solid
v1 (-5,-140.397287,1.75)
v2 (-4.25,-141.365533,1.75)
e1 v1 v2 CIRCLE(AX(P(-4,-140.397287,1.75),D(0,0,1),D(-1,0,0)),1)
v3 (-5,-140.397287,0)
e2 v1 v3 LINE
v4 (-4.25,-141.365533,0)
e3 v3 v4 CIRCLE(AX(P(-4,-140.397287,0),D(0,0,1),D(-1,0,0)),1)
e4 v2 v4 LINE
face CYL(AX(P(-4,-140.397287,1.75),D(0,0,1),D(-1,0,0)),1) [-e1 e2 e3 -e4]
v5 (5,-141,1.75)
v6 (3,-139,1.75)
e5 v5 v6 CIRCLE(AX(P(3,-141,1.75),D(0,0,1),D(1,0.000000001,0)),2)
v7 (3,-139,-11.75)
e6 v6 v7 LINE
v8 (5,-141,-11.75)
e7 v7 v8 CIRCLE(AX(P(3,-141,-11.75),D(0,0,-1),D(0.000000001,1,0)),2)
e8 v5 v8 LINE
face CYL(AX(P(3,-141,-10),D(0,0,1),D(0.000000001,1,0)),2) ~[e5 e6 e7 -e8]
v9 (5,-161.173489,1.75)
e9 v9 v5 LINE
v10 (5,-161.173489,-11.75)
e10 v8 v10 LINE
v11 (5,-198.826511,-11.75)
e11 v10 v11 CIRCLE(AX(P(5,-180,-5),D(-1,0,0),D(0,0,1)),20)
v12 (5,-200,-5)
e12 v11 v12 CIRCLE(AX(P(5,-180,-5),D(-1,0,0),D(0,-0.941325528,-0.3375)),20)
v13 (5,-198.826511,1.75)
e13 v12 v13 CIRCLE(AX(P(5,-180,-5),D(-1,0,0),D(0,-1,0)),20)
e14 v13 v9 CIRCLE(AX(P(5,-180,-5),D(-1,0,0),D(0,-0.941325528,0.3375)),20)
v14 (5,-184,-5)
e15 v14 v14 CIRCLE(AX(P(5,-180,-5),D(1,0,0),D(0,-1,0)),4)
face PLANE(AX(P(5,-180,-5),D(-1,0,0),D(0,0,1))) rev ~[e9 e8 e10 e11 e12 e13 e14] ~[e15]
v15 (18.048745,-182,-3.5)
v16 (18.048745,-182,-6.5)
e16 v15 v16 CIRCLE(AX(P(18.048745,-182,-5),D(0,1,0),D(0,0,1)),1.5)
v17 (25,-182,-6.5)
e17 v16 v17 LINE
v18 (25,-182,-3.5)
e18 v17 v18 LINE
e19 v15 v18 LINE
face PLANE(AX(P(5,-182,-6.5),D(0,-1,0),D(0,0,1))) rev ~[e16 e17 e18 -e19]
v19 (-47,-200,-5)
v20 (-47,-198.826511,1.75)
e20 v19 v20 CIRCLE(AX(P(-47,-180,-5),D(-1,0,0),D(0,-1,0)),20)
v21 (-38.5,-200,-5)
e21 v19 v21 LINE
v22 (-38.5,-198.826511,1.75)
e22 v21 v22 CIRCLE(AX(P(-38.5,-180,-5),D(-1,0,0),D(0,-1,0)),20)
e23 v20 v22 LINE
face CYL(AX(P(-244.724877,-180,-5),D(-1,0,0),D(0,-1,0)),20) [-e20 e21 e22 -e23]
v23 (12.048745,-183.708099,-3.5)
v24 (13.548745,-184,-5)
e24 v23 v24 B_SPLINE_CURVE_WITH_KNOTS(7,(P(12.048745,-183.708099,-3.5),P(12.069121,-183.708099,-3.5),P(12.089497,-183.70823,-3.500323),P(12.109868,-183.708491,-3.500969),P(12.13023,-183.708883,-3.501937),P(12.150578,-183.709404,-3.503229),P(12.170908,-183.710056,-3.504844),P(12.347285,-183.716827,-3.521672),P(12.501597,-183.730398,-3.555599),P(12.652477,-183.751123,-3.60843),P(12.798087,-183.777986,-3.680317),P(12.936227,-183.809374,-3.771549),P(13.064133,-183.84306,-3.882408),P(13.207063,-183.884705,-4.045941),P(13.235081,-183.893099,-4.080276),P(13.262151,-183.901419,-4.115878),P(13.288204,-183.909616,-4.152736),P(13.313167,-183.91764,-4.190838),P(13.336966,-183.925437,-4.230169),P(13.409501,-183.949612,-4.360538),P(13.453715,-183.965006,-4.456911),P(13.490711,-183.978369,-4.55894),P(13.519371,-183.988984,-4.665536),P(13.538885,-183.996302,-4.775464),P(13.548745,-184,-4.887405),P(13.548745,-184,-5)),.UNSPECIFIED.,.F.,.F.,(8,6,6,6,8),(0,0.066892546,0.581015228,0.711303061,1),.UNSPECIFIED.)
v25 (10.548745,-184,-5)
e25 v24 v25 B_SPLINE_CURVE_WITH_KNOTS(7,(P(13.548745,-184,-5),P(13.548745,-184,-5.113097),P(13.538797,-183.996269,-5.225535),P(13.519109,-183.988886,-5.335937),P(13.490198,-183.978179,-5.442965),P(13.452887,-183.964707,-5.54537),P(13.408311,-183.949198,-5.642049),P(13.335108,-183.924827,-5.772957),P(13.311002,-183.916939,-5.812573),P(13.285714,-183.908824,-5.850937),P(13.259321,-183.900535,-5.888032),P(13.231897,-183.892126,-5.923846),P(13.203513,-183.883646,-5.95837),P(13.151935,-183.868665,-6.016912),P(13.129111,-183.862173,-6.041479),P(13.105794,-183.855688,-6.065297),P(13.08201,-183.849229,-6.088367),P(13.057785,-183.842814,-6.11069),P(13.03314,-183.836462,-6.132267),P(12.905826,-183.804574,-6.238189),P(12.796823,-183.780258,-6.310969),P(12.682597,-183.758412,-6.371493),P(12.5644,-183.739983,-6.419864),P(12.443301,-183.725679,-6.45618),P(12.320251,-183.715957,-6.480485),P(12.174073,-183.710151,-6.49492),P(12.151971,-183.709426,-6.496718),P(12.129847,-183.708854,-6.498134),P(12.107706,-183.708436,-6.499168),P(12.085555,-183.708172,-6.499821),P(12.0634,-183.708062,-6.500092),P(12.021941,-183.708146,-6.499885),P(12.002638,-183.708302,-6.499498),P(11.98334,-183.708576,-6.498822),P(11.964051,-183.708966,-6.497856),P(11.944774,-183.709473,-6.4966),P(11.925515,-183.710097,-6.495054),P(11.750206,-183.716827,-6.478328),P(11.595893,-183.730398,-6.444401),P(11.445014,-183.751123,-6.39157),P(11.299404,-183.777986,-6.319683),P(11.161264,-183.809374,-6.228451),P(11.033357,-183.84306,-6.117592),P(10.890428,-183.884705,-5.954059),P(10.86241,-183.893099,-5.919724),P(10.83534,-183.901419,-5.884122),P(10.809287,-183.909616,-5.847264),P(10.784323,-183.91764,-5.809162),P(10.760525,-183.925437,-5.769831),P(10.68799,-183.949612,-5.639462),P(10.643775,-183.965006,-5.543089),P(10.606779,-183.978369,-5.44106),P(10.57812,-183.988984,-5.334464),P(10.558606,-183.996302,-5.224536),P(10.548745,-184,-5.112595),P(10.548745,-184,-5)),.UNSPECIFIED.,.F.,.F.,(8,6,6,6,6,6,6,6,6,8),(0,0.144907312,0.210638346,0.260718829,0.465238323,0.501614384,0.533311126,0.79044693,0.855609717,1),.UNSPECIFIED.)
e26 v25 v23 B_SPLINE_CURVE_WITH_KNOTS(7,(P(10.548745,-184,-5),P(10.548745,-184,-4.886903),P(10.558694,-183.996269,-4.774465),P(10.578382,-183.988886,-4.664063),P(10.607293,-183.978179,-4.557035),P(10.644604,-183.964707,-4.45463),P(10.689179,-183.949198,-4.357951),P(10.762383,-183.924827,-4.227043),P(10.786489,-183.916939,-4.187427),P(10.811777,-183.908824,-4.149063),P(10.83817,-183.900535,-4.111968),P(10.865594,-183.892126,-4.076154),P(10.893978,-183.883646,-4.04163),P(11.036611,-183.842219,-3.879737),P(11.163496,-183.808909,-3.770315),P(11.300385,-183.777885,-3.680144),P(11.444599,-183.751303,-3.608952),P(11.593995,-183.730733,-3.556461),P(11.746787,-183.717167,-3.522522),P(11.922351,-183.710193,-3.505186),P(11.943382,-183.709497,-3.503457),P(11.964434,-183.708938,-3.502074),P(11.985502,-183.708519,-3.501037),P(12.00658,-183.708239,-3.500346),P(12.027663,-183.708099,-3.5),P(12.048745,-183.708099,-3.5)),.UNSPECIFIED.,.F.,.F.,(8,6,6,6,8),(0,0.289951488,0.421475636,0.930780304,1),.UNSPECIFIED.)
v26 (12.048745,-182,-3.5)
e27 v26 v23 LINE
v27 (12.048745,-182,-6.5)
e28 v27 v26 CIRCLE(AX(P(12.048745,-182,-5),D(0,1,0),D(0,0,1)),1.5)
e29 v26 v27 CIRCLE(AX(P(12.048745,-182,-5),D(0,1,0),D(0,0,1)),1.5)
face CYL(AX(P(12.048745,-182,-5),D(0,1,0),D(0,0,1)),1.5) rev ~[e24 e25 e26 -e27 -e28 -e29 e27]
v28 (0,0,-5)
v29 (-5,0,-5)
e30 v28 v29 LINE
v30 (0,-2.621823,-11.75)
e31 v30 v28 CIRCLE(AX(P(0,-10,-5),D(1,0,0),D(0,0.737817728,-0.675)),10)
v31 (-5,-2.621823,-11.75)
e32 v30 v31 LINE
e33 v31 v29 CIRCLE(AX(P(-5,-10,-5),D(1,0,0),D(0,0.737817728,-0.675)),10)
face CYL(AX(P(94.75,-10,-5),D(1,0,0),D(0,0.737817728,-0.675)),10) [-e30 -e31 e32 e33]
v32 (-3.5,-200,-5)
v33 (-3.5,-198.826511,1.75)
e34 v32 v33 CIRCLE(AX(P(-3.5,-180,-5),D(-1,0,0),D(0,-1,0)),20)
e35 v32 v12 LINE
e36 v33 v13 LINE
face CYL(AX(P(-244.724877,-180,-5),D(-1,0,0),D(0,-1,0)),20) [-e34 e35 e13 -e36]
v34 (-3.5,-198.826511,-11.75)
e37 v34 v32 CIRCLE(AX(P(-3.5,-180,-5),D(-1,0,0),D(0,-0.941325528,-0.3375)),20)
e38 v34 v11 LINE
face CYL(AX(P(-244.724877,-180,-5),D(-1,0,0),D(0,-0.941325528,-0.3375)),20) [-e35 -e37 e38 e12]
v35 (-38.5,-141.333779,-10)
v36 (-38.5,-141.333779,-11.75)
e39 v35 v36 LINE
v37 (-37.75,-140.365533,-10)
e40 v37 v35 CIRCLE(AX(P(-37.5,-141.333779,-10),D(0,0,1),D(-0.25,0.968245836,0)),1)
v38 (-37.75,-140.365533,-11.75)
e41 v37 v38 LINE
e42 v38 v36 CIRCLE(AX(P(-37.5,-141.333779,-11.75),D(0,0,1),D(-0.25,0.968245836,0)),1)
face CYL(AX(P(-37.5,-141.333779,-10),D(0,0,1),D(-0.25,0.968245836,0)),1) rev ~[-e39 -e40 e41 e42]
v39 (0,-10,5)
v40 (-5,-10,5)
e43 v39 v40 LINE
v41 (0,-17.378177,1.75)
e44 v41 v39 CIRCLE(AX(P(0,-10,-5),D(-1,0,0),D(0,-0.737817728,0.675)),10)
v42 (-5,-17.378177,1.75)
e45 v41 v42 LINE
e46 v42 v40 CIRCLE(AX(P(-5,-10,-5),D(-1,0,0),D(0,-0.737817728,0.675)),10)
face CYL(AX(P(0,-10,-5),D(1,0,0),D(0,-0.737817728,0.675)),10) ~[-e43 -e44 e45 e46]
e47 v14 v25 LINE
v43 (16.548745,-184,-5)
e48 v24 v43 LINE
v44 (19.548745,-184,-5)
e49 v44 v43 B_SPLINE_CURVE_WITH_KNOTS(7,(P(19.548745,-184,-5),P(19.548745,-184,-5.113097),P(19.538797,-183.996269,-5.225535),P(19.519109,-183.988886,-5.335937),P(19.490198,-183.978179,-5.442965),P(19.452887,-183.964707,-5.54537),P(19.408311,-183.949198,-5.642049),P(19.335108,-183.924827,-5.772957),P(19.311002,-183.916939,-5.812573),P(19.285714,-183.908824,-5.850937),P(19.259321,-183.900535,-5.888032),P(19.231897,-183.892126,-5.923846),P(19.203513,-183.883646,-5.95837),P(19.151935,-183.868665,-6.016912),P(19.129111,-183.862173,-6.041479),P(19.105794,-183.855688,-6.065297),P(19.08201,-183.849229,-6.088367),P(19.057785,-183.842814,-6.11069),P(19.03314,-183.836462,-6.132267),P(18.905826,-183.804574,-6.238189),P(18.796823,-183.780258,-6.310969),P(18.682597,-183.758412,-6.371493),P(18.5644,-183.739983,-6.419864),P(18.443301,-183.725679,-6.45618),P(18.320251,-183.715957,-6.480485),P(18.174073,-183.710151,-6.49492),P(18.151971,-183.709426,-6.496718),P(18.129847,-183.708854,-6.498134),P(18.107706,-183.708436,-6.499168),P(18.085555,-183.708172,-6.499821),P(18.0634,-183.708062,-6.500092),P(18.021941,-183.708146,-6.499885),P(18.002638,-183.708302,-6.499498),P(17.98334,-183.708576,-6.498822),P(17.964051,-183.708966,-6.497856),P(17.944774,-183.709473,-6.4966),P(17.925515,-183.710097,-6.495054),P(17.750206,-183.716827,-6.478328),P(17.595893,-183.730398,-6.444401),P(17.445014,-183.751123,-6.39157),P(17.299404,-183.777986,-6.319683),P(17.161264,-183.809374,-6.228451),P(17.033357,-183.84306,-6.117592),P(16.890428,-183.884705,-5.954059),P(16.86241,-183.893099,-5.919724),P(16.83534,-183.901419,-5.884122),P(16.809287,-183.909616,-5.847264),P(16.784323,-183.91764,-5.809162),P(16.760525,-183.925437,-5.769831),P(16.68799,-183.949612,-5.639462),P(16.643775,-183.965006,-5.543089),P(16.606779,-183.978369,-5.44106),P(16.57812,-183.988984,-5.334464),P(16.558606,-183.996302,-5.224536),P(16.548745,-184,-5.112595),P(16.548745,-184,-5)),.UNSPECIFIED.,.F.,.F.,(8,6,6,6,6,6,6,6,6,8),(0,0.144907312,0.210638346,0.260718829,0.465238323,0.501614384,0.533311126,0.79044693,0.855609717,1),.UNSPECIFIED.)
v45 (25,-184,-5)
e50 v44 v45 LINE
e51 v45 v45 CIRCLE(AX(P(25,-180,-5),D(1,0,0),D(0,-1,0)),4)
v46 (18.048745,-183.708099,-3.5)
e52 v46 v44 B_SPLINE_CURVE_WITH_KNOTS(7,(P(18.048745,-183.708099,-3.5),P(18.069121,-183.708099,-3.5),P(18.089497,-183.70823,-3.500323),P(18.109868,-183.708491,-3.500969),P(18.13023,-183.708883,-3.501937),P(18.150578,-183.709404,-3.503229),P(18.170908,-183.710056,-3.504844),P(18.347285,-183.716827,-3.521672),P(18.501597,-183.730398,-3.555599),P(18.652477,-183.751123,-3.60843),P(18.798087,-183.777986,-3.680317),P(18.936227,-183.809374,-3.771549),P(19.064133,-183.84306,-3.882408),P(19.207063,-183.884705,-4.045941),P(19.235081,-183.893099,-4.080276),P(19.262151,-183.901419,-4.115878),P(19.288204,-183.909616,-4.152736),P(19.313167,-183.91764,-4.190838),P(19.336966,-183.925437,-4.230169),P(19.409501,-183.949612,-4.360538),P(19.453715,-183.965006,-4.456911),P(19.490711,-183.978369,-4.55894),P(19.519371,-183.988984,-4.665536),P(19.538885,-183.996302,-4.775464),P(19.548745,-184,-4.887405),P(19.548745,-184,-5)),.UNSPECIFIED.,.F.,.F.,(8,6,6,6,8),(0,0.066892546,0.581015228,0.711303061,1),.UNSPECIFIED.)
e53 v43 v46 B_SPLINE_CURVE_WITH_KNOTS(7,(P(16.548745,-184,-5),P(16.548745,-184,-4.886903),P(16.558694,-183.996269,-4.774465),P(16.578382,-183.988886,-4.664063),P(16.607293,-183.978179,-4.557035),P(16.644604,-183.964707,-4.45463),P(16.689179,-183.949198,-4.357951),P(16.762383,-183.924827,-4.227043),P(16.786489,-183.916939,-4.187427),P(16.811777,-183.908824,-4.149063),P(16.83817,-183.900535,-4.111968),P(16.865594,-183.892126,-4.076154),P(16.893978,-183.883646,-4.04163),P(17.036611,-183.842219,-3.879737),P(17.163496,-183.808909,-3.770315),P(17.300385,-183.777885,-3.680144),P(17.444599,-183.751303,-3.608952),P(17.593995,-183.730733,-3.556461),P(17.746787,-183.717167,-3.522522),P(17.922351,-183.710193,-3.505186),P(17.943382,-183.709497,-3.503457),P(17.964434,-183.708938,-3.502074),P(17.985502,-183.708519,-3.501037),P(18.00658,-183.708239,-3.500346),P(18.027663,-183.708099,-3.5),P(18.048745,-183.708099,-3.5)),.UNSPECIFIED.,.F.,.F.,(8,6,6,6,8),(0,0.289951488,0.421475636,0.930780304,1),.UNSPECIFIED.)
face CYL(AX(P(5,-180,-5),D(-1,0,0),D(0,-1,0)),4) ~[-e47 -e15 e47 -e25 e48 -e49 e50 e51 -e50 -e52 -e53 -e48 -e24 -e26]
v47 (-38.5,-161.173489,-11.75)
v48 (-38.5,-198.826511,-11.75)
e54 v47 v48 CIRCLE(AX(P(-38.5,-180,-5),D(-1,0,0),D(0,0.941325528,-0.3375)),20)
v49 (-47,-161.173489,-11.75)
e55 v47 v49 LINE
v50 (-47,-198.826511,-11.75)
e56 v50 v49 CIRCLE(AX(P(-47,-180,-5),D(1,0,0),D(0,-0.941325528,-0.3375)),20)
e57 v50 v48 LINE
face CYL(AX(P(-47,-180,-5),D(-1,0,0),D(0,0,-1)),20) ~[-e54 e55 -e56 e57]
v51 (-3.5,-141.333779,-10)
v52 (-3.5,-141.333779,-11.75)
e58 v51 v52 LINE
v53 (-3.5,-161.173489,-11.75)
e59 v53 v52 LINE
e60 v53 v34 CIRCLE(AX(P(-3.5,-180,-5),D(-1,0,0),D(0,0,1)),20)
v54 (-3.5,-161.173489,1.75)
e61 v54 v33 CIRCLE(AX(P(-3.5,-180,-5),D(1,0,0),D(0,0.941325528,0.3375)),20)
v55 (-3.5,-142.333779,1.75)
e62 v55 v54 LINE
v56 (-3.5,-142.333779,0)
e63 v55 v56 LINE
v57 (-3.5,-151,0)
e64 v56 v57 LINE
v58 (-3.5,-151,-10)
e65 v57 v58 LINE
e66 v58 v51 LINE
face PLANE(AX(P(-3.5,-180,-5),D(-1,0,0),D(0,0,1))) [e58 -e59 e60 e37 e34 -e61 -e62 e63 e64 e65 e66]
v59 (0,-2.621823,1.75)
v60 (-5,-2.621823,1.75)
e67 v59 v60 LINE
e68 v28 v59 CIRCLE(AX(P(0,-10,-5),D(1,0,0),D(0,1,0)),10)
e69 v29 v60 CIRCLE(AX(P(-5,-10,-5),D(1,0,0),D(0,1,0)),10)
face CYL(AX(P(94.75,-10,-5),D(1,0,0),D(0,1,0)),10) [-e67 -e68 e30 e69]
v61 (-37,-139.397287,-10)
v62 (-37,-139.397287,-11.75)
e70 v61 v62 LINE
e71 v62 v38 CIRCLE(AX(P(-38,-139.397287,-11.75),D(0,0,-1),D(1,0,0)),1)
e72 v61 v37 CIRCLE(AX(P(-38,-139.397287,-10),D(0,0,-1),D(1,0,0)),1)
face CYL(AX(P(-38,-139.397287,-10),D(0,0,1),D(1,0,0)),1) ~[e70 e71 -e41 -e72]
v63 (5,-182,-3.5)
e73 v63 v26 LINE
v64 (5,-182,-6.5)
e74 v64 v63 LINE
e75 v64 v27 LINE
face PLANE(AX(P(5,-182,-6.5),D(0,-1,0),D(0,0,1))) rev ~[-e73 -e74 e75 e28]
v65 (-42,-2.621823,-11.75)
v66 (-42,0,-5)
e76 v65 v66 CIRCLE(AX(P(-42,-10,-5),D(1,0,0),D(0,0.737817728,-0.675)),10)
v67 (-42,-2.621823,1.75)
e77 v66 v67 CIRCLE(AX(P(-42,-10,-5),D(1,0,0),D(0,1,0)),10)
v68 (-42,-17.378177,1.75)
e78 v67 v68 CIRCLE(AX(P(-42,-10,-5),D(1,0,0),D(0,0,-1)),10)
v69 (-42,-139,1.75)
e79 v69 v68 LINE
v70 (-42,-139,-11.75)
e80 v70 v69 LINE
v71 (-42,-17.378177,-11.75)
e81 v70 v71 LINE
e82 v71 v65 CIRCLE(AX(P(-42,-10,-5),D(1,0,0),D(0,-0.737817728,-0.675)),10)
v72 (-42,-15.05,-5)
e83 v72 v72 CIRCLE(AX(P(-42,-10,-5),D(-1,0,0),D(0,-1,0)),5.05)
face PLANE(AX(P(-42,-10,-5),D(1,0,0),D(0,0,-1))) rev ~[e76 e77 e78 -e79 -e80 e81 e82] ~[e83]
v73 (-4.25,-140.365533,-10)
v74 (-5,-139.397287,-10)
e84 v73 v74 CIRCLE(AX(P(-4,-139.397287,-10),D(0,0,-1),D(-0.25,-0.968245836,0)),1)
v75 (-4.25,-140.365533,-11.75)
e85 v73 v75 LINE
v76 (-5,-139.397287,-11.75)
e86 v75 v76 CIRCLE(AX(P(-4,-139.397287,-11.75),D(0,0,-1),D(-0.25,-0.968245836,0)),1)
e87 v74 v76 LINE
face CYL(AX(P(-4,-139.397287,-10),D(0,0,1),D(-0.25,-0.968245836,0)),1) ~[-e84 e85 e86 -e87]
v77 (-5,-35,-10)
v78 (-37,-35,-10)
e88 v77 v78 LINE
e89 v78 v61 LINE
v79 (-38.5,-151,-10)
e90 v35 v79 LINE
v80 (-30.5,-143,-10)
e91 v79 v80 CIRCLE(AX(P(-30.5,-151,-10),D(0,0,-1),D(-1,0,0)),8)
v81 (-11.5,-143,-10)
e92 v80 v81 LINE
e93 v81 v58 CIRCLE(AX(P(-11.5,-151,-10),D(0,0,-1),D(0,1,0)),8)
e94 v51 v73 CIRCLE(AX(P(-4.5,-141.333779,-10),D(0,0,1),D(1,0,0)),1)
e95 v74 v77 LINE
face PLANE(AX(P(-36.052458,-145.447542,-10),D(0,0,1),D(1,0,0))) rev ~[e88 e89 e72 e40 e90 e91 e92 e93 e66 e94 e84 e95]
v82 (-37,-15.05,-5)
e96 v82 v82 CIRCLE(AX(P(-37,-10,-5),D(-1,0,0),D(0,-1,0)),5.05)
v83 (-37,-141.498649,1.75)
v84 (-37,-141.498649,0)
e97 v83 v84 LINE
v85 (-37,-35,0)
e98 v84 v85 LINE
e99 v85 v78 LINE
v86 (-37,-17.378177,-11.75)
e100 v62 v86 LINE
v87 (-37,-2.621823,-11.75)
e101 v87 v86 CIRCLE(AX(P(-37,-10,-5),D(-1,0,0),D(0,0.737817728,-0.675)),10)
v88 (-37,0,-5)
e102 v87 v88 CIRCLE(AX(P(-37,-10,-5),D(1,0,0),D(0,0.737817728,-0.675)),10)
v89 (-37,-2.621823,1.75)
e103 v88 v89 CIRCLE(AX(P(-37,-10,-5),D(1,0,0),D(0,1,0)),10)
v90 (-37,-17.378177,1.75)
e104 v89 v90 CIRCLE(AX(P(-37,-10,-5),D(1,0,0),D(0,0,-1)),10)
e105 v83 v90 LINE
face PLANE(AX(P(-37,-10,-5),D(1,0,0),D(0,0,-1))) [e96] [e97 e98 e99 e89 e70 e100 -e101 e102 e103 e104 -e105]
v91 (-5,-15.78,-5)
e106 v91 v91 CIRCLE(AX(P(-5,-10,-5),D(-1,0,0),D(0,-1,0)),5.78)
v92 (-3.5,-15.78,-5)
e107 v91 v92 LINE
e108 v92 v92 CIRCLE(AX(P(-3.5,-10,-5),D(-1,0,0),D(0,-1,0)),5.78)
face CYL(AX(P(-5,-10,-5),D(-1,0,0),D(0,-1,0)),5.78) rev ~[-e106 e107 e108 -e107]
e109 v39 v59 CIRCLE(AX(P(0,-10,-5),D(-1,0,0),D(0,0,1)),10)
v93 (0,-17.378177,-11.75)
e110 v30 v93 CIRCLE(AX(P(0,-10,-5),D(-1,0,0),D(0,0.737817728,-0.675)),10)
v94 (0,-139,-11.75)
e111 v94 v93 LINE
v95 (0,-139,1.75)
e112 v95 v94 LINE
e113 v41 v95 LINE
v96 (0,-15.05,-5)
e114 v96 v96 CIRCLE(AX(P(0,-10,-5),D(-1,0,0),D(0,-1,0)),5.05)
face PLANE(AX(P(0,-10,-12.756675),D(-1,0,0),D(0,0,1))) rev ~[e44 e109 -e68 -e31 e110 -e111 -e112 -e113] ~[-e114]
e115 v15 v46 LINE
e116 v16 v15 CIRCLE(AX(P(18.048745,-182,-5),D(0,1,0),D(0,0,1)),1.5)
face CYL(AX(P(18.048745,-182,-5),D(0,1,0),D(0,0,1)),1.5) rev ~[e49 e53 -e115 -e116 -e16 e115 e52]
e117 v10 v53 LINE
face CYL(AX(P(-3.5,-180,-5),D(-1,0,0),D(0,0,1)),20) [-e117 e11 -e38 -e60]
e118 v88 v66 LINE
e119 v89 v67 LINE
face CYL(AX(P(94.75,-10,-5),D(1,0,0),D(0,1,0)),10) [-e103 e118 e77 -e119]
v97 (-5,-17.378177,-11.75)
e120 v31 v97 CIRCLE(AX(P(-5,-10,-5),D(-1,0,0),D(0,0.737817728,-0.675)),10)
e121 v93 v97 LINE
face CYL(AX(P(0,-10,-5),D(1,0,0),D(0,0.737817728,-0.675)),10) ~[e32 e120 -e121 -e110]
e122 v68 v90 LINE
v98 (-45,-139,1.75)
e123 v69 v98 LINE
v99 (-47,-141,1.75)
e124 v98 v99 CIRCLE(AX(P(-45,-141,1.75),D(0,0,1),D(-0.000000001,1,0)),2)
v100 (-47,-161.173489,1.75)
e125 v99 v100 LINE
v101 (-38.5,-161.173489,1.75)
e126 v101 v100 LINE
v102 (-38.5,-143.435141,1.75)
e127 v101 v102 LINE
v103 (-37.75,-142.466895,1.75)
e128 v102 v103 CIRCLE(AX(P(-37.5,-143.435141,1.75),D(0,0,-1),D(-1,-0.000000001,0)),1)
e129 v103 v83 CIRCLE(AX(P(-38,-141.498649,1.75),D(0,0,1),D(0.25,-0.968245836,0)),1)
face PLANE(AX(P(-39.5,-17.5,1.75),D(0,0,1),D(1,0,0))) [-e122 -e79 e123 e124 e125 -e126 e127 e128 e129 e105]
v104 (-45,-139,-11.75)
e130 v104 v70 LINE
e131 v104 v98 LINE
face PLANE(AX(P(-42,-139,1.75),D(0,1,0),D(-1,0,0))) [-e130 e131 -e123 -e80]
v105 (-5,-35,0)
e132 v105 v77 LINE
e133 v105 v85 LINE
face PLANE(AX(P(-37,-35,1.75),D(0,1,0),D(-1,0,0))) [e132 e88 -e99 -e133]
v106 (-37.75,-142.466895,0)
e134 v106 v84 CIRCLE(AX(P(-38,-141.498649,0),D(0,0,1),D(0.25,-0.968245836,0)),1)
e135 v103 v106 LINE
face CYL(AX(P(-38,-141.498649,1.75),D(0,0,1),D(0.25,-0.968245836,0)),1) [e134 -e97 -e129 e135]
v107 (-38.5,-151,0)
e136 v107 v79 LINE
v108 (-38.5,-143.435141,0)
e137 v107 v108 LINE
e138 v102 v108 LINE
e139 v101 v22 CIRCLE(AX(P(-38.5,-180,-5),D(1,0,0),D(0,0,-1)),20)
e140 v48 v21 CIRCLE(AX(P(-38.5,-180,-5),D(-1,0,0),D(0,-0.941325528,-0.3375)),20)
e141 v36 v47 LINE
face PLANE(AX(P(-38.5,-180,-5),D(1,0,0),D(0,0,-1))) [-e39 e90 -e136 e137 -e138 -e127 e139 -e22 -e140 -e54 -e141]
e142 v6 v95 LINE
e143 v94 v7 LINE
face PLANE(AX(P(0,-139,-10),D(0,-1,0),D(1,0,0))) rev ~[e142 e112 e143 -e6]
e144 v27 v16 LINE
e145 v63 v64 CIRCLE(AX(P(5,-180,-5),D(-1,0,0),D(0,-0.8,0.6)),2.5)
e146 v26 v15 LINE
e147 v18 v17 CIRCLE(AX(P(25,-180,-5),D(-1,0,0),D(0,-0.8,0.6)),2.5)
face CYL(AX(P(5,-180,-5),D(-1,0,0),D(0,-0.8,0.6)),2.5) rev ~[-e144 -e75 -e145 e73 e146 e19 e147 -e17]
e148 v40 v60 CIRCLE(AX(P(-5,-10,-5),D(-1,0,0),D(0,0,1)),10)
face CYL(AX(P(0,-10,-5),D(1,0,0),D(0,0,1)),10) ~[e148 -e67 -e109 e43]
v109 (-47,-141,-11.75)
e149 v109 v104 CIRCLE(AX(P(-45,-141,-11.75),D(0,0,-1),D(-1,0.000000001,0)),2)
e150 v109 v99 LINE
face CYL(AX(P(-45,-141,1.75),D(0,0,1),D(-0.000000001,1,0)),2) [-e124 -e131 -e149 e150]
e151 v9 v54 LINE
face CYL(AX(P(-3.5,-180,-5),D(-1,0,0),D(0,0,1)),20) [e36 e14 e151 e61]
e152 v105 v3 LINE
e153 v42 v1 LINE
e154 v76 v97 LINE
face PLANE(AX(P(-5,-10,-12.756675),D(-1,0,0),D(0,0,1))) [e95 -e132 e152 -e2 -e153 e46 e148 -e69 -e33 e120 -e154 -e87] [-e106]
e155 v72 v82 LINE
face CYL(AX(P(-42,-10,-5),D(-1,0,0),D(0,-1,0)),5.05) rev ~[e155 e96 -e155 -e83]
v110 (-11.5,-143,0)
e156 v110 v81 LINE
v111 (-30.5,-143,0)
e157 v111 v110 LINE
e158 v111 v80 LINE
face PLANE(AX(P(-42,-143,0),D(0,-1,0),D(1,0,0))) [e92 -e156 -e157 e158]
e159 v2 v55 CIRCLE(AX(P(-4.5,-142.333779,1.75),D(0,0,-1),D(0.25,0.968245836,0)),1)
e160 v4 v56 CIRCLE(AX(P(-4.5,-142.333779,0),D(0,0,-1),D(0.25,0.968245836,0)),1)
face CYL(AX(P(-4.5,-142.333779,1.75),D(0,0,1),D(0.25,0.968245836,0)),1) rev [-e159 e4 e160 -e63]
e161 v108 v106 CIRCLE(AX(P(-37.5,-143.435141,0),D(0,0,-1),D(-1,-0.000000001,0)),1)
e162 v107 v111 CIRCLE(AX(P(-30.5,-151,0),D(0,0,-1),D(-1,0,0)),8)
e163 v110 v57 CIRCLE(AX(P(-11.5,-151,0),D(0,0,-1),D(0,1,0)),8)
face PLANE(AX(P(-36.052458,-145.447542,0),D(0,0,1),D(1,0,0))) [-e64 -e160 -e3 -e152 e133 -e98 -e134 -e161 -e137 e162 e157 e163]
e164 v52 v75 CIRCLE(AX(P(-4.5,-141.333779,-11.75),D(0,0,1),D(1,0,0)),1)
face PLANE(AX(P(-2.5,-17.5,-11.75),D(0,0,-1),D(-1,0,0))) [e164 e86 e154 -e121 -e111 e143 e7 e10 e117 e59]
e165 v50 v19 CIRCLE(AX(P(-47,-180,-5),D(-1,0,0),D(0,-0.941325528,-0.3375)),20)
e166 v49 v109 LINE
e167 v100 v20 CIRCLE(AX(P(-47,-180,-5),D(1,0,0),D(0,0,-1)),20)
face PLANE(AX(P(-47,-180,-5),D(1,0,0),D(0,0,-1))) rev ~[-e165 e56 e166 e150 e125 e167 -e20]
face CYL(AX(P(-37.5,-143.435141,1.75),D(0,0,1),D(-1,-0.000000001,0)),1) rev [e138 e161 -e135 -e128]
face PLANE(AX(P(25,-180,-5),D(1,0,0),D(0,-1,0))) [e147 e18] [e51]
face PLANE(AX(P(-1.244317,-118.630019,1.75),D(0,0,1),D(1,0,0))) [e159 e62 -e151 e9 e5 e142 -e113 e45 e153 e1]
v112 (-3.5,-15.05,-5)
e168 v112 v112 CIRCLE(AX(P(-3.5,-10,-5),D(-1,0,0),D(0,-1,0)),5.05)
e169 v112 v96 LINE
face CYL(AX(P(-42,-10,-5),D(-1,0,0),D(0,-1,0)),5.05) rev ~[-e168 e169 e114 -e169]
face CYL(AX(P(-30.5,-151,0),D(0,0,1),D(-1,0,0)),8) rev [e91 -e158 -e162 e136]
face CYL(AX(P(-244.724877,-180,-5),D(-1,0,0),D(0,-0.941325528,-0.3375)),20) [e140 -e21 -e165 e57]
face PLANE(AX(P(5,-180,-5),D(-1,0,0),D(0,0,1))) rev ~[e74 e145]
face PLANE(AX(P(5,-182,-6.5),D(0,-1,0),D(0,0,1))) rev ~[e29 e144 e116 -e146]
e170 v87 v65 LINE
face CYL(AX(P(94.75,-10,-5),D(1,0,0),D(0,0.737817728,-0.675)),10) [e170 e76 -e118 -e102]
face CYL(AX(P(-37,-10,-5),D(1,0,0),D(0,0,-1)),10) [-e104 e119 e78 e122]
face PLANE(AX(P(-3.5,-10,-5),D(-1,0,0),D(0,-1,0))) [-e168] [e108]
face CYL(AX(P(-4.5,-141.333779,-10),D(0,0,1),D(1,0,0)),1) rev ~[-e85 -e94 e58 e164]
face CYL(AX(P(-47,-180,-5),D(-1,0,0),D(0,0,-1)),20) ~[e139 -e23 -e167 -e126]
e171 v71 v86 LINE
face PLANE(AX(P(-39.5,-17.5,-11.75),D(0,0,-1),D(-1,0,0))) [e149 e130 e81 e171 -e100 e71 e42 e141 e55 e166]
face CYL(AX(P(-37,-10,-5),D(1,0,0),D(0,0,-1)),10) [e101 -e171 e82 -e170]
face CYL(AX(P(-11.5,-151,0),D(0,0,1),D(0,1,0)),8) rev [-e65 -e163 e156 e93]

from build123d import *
from build123d.topology import SkipClean

# Parameters (mm, degrees)
SALIENTE_EXTRUIR1_DEPTH    = 10
SALIENTE_EXTRUIR2_DEPTH    = 10
SALIENTE_EXTRUIR3_DEPTH    = 10
SALIENTE_EXTRUIR4_DEPTH    = 1.75
SALIENTE_EXTRUIR5_START    = 1.75
SALIENTE_EXTRUIR5_DEPTH    = 1.75
CROQUIS26_W                = 5
CROQUIS26_H                = 35
SALIENTE_EXTRUIR6_DEPTH    = 1.75
CROQUIS27_W                = 5
CROQUIS27_H                = 35
SALIENTE_EXTRUIR7_DEPTH    = 11.75
CORTAR_EXTRUIR3_DEPTH      = 205.699932829
CORTAR_EXTRUIR3_DEPTH_BACK = 99.75
SALIENTE_EXTRUIR8_START    = -5
SALIENTE_EXTRUIR8_DEPTH    = 5
CROQUIS29_R                = 10
SALIENTE_EXTRUIR9_DEPTH    = 5
CORTAR_EXTRUIR5_DEPTH      = 206.22487666
CORTAR_EXTRUIR5_DEPTH_BACK = 206.22487666
SALIENTE_EXTRUIR11_START   = -8.5
CROQUIS32_R                = 20
SALIENTE_EXTRUIR11_DEPTH   = 8.5
CROQUIS33_R                = 20
SALIENTE_EXTRUIR12_DEPTH   = 8.5
CROQUIS34_R                = 5.05
CORTAR_EXTRUIR6_DEPTH      = 90
CROQUIS39_R                = 5.78
CORTAR_EXTRUIR7_DEPTH      = 1.5
CROQUIS40_R                = 4
SALIENTE_EXTRUIR13_DEPTH   = 20
CROQUIS41_R                = 1.5
CORTAR_EXTRUIR8_DEPTH      = 20


with BuildPart() as part:
    # Croquis1 → Saliente-Extruir1 (new body)
    with BuildSketch(Plane.XY):
        Polygon((0, -143), (0, -35), (-1.6, -35), (-37.4, -35), (-42, -35), (-42, -143), align=None)
    extrude(amount=-SALIENTE_EXTRUIR1_DEPTH)

    # Croquis3 → Saliente-Extruir2 (add)
    with BuildSketch(Plane.XY):
        with BuildLine():
            Line((-47, -141), (-47, -145))
            Line((-47, -145), (-47, -160))
            Line((-47, -160), (-47, -180))
            Line((-47, -180), (-47, -200))
            Line((-47, -200), (-38.5, -200))
            Line((-38.5, -200), (-38.5, -151))
            Line((-38.5, -151), (-38.5, -143))
            Line((-38.5, -143), (-42, -143))
            Line((-42, -143), (-42, -139))
            Line((-42, -139), (-45, -139))
            ThreePointArc((-45, -139), (-46.414213562, -139.585786438), (-47, -141))
        make_face()
        with BuildLine():
            Line((0, -143), (-11.5, -143))
            ThreePointArc((-11.5, -143), (-5.843145751, -145.343145751), (-3.5, -151))
            Line((-3.5, -151), (-3.5, -200))
            Line((-3.5, -200), (5, -200))
            Line((5, -200), (5, -143))
            Line((5, -143), (5, -141))
            ThreePointArc((5, -141), (4.414213562, -139.585786438), (3, -139))
            Line((3, -139), (0, -139))
            Line((0, -139), (0, -143))
        make_face()
    extrude(amount=-SALIENTE_EXTRUIR2_DEPTH)

    # Croquis21 → Saliente-Extruir3 (add)
    with BuildSketch(Plane.XY):
        with BuildLine():
            Line((-38.5, -143), (-38.5, -151))
            ThreePointArc((-38.5, -151), (-36.156854249, -145.343145751), (-30.5, -143))
            Line((-30.5, -143), (-38.5, -143))
        make_face()
    extrude(amount=-SALIENTE_EXTRUIR3_DEPTH)

    # Croquis22 → Saliente-Extruir4 (add)
    with BuildSketch(Plane(origin=(0, 0, -10), x_dir=(-1, 0, 0), z_dir=(0, 0, -1))):
        with BuildLine():
            Line((3.5, -200), (3.5, -156.87358131))
            Line((3.5, -156.87358131), (3.5, -151))
            Line((3.5, -151), (3.5, -141.333778868))
            ThreePointArc((3.5, -141.333778868), (3.709430585, -140.721406432), (4.25, -140.365533031))
            ThreePointArc((4.25, -140.365533031), (4.790569415, -140.00965963), (5, -139.397287194))
            Line((5, -139.397287194), (5, -35))
            Line((5, -35), (0, -35))
            Line((0, -35), (0, -139))
            Line((0, -139), (-3, -139))
            ThreePointArc((-3, -139), (-4.414213562, -139.585786438), (-5, -141))
            Line((-5, -141), (-5, -200))
            Line((-5, -200), (3.5, -200))
        make_face()
        with BuildLine():
            Line((42, -35), (37, -35))
            Line((37, -35), (37, -139.397287194))
            ThreePointArc((37, -139.397287194), (37.209430585, -140.00965963), (37.75, -140.365533031))
            ThreePointArc((37.75, -140.365533031), (38.290569415, -140.721406432), (38.5, -141.333778868))
            Line((38.5, -141.333778868), (38.5, -151))
            Line((38.5, -151), (38.5, -155.512462497))
            Line((38.5, -155.512462497), (38.5, -200))
            Line((38.5, -200), (47, -200))
            Line((47, -200), (47, -141))
            ThreePointArc((47, -141), (46.414213562, -139.585786438), (45, -139))
            Line((45, -139), (42, -139))
            Line((42, -139), (42, -35))
        make_face()
    extrude(amount=SALIENTE_EXTRUIR4_DEPTH)

    # Croquis24 → Saliente-Extruir5 (add)
    with BuildSketch(Plane.XY.offset(SALIENTE_EXTRUIR5_START)):
        with BuildLine():
            Line((-37, -141.498649254), (-37, -35))
            Line((-37, -35), (-42, -35))
            Line((-42, -35), (-42, -139))
            Line((-42, -139), (-45, -139))
            ThreePointArc((-45, -139), (-46.414213562, -139.585786438), (-47, -141))
            Line((-47, -141), (-47, -200))
            Line((-47, -200), (-38.5, -200))
            Line((-38.5, -200), (-38.5, -143.435140927))
            ThreePointArc((-38.5, -143.435140927), (-38.290569415, -142.822768491), (-37.75, -142.466895091))
            ThreePointArc((-37.75, -142.466895091), (-37.209430585, -142.11102169), (-37, -141.498649254))
        make_face()
        with BuildLine():
            Line((0, -35), (-5, -35))
            Line((-5, -35), (-5, -140.397287194))
            ThreePointArc((-5, -140.397287194), (-4.790569415, -141.00965963), (-4.25, -141.365533031))
            ThreePointArc((-4.25, -141.365533031), (-3.709430585, -141.721406432), (-3.5, -142.333778868))
            Line((-3.5, -142.333778868), (-3.5, -200))
            Line((-3.5, -200), (5, -200))
            Line((5, -200), (5, -141))
            ThreePointArc((5, -141), (4.414213562, -139.585786438), (3, -139))
            Line((3, -139), (0, -139))
            Line((0, -139), (0, -35))
        make_face()
    extrude(amount=-SALIENTE_EXTRUIR5_DEPTH)

    # Croquis26 → Saliente-Extruir6 (add)
    with BuildSketch(Plane.XY):
        with Locations((-39.5, -17.5)):
            Rectangle(CROQUIS26_W, CROQUIS26_H)
        with Locations((-2.5, -17.5)):
            Rectangle(CROQUIS26_W, CROQUIS26_H)
    extrude(amount=SALIENTE_EXTRUIR6_DEPTH)

    # Croquis27 → Saliente-Extruir7 (add)
    with BuildSketch(Plane(origin=(0, 0, 0), x_dir=(-1, 0, 0), z_dir=(0, 0, -1))):
        with Locations((2.5, -17.5)):
            Rectangle(CROQUIS27_W, CROQUIS27_H)
        with Locations((39.5, -17.5)):
            Rectangle(CROQUIS27_W, CROQUIS27_H)
    extrude(amount=SALIENTE_EXTRUIR7_DEPTH)

    # Croquis28 → Cortar-Extruir3 (cut, two sides: drawn at the far end of the back side and taken through both)
    with BuildSketch(Plane.ZY.offset(5).offset(-CORTAR_EXTRUIR3_DEPTH_BACK)):
        with BuildLine():
            ThreePointArc((-11.75, -2.621822718), (-8.62065099, -0.678471884), (-5, 0))
            Line((-5, 0), (-11.75, 0))
            Line((-11.75, 0), (-11.75, -2.621822718))
        make_face()
        with BuildLine():
            Line((1.75, -2.621822718), (1.75, 0))
            Line((1.75, 0), (-5, 0))
            ThreePointArc((-5, 0), (-1.37934901, -0.678471884), (1.75, -2.621822718))
        make_face()
    extrude(amount=CORTAR_EXTRUIR3_DEPTH + CORTAR_EXTRUIR3_DEPTH_BACK, mode=Mode.SUBTRACT)

    # Croquis28<5> → Saliente-Extruir8 (add)
    with BuildSketch(Plane.ZY.offset(5).offset(SALIENTE_EXTRUIR8_START)):
        with BuildLine():
            Line((-11.75, -17.378177282), (-11.75, -2.621822718))
            ThreePointArc((-11.75, -2.621822718), (-15, -10), (-11.75, -17.378177282))
        make_face()
        with BuildLine():
            ThreePointArc((5, -10), (4.151502609, -5.968871126), (1.75, -2.621822718))
            Line((1.75, -2.621822718), (1.75, -17.378177282))
            ThreePointArc((1.75, -17.378177282), (4.151502609, -14.031128874), (5, -10))
        make_face()
    extrude(amount=SALIENTE_EXTRUIR8_DEPTH)

    # Croquis29 → Saliente-Extruir9 (add)
    with BuildSketch(Plane(origin=(-37, 0, 0), x_dir=(0, 0, -1), z_dir=(1, 0, 0))):
        with Locations((5, -10)):
            Circle(CROQUIS29_R)
    extrude(amount=-SALIENTE_EXTRUIR9_DEPTH)

    # Croquis31 → Cortar-Extruir5 (cut, two sides: drawn at the far end of the back side and taken through both)
    with BuildSketch(Plane(origin=(-38.5, 0, 0), x_dir=(0, 0, -1), z_dir=(1, 0, 0)).offset(-CORTAR_EXTRUIR5_DEPTH_BACK)):
        with BuildLine():
            Line((-1.75, -200), (5, -200))
            ThreePointArc((5, -200), (1.574376792, -199.704443804), (-1.75, -198.826510564))
            Line((-1.75, -198.826510564), (-1.75, -200))
        make_face()
        with BuildLine():
            Line((11.75, -200), (11.75, -198.826510564))
            ThreePointArc((11.75, -198.826510564), (8.425623208, -199.704443804), (5, -200))
            Line((5, -200), (11.75, -200))
        make_face()
    extrude(amount=CORTAR_EXTRUIR5_DEPTH + CORTAR_EXTRUIR5_DEPTH_BACK, mode=Mode.SUBTRACT)

    # Croquis32 → Saliente-Extruir11 (add)
    with BuildSketch(Plane(origin=(-38.5, 0, 0), x_dir=(0, 0, -1), z_dir=(1, 0, 0)).offset(SALIENTE_EXTRUIR11_START)):
        with Locations((5, -180)):
            Circle(CROQUIS32_R)
    extrude(amount=SALIENTE_EXTRUIR11_DEPTH)

    # Croquis33 → Saliente-Extruir12 (add)
    with BuildSketch(Plane.ZY.offset(3.5)):
        with Locations((-5, -180)):
            Circle(CROQUIS33_R)
    extrude(amount=-SALIENTE_EXTRUIR12_DEPTH)

    # Croquis34 → Cortar-Extruir6 (cut)
    with BuildSketch(Plane.ZY.offset(42)):
        with Locations(Location((-5, -10, 0), (0, 0, 270))):
            Circle(CROQUIS34_R)
    extrude(amount=-CORTAR_EXTRUIR6_DEPTH, mode=Mode.SUBTRACT)

    # Croquis39 → Cortar-Extruir7 (cut)
    with SkipClean():  # the faces are left unmerged after this step: merging them gives an invalid solid
        with BuildSketch(Plane.ZY.offset(5)):
            with Locations(Location((-5, -10, 0), (0, 0, 270))):
                Circle(CROQUIS39_R)
        extrude(amount=-CORTAR_EXTRUIR7_DEPTH, mode=Mode.SUBTRACT)

    # Croquis40 → Saliente-Extruir13 (add)
    with SkipClean():  # the faces are left unmerged after this step: merging them gives an invalid solid
        with BuildSketch(Plane(origin=(5, 0, 0), x_dir=(0, 0, -1), z_dir=(1, 0, 0))):
            with Locations(Location((5, -180, 0), (0, 0, 270))):
                Circle(CROQUIS40_R)
            with BuildLine():
                Line((6.5, -182), (3.5, -182))
                ThreePointArc((3.5, -182), (5, -177.5), (6.5, -182))
            make_face(mode=Mode.SUBTRACT)
        extrude(amount=SALIENTE_EXTRUIR13_DEPTH)

    # Croquis41 → Cortar-Extruir8 (cut)
    with SkipClean():  # the faces are left unmerged after this step: merging them gives an invalid solid
        with BuildSketch(Plane(origin=(0, -182, 0), x_dir=(1, 0, 0), z_dir=(0, 1, 0))):
            with Locations(Location((18.048745385, 5, 0), (0, 0, 270))):
                Circle(CROQUIS41_R)
            with Locations(Location((12.048745385, 5, 0), (0, 0, 270))):
                Circle(CROQUIS41_R)
        extrude(amount=-CORTAR_EXTRUIR8_DEPTH, mode=Mode.SUBTRACT)


solid = part.part
